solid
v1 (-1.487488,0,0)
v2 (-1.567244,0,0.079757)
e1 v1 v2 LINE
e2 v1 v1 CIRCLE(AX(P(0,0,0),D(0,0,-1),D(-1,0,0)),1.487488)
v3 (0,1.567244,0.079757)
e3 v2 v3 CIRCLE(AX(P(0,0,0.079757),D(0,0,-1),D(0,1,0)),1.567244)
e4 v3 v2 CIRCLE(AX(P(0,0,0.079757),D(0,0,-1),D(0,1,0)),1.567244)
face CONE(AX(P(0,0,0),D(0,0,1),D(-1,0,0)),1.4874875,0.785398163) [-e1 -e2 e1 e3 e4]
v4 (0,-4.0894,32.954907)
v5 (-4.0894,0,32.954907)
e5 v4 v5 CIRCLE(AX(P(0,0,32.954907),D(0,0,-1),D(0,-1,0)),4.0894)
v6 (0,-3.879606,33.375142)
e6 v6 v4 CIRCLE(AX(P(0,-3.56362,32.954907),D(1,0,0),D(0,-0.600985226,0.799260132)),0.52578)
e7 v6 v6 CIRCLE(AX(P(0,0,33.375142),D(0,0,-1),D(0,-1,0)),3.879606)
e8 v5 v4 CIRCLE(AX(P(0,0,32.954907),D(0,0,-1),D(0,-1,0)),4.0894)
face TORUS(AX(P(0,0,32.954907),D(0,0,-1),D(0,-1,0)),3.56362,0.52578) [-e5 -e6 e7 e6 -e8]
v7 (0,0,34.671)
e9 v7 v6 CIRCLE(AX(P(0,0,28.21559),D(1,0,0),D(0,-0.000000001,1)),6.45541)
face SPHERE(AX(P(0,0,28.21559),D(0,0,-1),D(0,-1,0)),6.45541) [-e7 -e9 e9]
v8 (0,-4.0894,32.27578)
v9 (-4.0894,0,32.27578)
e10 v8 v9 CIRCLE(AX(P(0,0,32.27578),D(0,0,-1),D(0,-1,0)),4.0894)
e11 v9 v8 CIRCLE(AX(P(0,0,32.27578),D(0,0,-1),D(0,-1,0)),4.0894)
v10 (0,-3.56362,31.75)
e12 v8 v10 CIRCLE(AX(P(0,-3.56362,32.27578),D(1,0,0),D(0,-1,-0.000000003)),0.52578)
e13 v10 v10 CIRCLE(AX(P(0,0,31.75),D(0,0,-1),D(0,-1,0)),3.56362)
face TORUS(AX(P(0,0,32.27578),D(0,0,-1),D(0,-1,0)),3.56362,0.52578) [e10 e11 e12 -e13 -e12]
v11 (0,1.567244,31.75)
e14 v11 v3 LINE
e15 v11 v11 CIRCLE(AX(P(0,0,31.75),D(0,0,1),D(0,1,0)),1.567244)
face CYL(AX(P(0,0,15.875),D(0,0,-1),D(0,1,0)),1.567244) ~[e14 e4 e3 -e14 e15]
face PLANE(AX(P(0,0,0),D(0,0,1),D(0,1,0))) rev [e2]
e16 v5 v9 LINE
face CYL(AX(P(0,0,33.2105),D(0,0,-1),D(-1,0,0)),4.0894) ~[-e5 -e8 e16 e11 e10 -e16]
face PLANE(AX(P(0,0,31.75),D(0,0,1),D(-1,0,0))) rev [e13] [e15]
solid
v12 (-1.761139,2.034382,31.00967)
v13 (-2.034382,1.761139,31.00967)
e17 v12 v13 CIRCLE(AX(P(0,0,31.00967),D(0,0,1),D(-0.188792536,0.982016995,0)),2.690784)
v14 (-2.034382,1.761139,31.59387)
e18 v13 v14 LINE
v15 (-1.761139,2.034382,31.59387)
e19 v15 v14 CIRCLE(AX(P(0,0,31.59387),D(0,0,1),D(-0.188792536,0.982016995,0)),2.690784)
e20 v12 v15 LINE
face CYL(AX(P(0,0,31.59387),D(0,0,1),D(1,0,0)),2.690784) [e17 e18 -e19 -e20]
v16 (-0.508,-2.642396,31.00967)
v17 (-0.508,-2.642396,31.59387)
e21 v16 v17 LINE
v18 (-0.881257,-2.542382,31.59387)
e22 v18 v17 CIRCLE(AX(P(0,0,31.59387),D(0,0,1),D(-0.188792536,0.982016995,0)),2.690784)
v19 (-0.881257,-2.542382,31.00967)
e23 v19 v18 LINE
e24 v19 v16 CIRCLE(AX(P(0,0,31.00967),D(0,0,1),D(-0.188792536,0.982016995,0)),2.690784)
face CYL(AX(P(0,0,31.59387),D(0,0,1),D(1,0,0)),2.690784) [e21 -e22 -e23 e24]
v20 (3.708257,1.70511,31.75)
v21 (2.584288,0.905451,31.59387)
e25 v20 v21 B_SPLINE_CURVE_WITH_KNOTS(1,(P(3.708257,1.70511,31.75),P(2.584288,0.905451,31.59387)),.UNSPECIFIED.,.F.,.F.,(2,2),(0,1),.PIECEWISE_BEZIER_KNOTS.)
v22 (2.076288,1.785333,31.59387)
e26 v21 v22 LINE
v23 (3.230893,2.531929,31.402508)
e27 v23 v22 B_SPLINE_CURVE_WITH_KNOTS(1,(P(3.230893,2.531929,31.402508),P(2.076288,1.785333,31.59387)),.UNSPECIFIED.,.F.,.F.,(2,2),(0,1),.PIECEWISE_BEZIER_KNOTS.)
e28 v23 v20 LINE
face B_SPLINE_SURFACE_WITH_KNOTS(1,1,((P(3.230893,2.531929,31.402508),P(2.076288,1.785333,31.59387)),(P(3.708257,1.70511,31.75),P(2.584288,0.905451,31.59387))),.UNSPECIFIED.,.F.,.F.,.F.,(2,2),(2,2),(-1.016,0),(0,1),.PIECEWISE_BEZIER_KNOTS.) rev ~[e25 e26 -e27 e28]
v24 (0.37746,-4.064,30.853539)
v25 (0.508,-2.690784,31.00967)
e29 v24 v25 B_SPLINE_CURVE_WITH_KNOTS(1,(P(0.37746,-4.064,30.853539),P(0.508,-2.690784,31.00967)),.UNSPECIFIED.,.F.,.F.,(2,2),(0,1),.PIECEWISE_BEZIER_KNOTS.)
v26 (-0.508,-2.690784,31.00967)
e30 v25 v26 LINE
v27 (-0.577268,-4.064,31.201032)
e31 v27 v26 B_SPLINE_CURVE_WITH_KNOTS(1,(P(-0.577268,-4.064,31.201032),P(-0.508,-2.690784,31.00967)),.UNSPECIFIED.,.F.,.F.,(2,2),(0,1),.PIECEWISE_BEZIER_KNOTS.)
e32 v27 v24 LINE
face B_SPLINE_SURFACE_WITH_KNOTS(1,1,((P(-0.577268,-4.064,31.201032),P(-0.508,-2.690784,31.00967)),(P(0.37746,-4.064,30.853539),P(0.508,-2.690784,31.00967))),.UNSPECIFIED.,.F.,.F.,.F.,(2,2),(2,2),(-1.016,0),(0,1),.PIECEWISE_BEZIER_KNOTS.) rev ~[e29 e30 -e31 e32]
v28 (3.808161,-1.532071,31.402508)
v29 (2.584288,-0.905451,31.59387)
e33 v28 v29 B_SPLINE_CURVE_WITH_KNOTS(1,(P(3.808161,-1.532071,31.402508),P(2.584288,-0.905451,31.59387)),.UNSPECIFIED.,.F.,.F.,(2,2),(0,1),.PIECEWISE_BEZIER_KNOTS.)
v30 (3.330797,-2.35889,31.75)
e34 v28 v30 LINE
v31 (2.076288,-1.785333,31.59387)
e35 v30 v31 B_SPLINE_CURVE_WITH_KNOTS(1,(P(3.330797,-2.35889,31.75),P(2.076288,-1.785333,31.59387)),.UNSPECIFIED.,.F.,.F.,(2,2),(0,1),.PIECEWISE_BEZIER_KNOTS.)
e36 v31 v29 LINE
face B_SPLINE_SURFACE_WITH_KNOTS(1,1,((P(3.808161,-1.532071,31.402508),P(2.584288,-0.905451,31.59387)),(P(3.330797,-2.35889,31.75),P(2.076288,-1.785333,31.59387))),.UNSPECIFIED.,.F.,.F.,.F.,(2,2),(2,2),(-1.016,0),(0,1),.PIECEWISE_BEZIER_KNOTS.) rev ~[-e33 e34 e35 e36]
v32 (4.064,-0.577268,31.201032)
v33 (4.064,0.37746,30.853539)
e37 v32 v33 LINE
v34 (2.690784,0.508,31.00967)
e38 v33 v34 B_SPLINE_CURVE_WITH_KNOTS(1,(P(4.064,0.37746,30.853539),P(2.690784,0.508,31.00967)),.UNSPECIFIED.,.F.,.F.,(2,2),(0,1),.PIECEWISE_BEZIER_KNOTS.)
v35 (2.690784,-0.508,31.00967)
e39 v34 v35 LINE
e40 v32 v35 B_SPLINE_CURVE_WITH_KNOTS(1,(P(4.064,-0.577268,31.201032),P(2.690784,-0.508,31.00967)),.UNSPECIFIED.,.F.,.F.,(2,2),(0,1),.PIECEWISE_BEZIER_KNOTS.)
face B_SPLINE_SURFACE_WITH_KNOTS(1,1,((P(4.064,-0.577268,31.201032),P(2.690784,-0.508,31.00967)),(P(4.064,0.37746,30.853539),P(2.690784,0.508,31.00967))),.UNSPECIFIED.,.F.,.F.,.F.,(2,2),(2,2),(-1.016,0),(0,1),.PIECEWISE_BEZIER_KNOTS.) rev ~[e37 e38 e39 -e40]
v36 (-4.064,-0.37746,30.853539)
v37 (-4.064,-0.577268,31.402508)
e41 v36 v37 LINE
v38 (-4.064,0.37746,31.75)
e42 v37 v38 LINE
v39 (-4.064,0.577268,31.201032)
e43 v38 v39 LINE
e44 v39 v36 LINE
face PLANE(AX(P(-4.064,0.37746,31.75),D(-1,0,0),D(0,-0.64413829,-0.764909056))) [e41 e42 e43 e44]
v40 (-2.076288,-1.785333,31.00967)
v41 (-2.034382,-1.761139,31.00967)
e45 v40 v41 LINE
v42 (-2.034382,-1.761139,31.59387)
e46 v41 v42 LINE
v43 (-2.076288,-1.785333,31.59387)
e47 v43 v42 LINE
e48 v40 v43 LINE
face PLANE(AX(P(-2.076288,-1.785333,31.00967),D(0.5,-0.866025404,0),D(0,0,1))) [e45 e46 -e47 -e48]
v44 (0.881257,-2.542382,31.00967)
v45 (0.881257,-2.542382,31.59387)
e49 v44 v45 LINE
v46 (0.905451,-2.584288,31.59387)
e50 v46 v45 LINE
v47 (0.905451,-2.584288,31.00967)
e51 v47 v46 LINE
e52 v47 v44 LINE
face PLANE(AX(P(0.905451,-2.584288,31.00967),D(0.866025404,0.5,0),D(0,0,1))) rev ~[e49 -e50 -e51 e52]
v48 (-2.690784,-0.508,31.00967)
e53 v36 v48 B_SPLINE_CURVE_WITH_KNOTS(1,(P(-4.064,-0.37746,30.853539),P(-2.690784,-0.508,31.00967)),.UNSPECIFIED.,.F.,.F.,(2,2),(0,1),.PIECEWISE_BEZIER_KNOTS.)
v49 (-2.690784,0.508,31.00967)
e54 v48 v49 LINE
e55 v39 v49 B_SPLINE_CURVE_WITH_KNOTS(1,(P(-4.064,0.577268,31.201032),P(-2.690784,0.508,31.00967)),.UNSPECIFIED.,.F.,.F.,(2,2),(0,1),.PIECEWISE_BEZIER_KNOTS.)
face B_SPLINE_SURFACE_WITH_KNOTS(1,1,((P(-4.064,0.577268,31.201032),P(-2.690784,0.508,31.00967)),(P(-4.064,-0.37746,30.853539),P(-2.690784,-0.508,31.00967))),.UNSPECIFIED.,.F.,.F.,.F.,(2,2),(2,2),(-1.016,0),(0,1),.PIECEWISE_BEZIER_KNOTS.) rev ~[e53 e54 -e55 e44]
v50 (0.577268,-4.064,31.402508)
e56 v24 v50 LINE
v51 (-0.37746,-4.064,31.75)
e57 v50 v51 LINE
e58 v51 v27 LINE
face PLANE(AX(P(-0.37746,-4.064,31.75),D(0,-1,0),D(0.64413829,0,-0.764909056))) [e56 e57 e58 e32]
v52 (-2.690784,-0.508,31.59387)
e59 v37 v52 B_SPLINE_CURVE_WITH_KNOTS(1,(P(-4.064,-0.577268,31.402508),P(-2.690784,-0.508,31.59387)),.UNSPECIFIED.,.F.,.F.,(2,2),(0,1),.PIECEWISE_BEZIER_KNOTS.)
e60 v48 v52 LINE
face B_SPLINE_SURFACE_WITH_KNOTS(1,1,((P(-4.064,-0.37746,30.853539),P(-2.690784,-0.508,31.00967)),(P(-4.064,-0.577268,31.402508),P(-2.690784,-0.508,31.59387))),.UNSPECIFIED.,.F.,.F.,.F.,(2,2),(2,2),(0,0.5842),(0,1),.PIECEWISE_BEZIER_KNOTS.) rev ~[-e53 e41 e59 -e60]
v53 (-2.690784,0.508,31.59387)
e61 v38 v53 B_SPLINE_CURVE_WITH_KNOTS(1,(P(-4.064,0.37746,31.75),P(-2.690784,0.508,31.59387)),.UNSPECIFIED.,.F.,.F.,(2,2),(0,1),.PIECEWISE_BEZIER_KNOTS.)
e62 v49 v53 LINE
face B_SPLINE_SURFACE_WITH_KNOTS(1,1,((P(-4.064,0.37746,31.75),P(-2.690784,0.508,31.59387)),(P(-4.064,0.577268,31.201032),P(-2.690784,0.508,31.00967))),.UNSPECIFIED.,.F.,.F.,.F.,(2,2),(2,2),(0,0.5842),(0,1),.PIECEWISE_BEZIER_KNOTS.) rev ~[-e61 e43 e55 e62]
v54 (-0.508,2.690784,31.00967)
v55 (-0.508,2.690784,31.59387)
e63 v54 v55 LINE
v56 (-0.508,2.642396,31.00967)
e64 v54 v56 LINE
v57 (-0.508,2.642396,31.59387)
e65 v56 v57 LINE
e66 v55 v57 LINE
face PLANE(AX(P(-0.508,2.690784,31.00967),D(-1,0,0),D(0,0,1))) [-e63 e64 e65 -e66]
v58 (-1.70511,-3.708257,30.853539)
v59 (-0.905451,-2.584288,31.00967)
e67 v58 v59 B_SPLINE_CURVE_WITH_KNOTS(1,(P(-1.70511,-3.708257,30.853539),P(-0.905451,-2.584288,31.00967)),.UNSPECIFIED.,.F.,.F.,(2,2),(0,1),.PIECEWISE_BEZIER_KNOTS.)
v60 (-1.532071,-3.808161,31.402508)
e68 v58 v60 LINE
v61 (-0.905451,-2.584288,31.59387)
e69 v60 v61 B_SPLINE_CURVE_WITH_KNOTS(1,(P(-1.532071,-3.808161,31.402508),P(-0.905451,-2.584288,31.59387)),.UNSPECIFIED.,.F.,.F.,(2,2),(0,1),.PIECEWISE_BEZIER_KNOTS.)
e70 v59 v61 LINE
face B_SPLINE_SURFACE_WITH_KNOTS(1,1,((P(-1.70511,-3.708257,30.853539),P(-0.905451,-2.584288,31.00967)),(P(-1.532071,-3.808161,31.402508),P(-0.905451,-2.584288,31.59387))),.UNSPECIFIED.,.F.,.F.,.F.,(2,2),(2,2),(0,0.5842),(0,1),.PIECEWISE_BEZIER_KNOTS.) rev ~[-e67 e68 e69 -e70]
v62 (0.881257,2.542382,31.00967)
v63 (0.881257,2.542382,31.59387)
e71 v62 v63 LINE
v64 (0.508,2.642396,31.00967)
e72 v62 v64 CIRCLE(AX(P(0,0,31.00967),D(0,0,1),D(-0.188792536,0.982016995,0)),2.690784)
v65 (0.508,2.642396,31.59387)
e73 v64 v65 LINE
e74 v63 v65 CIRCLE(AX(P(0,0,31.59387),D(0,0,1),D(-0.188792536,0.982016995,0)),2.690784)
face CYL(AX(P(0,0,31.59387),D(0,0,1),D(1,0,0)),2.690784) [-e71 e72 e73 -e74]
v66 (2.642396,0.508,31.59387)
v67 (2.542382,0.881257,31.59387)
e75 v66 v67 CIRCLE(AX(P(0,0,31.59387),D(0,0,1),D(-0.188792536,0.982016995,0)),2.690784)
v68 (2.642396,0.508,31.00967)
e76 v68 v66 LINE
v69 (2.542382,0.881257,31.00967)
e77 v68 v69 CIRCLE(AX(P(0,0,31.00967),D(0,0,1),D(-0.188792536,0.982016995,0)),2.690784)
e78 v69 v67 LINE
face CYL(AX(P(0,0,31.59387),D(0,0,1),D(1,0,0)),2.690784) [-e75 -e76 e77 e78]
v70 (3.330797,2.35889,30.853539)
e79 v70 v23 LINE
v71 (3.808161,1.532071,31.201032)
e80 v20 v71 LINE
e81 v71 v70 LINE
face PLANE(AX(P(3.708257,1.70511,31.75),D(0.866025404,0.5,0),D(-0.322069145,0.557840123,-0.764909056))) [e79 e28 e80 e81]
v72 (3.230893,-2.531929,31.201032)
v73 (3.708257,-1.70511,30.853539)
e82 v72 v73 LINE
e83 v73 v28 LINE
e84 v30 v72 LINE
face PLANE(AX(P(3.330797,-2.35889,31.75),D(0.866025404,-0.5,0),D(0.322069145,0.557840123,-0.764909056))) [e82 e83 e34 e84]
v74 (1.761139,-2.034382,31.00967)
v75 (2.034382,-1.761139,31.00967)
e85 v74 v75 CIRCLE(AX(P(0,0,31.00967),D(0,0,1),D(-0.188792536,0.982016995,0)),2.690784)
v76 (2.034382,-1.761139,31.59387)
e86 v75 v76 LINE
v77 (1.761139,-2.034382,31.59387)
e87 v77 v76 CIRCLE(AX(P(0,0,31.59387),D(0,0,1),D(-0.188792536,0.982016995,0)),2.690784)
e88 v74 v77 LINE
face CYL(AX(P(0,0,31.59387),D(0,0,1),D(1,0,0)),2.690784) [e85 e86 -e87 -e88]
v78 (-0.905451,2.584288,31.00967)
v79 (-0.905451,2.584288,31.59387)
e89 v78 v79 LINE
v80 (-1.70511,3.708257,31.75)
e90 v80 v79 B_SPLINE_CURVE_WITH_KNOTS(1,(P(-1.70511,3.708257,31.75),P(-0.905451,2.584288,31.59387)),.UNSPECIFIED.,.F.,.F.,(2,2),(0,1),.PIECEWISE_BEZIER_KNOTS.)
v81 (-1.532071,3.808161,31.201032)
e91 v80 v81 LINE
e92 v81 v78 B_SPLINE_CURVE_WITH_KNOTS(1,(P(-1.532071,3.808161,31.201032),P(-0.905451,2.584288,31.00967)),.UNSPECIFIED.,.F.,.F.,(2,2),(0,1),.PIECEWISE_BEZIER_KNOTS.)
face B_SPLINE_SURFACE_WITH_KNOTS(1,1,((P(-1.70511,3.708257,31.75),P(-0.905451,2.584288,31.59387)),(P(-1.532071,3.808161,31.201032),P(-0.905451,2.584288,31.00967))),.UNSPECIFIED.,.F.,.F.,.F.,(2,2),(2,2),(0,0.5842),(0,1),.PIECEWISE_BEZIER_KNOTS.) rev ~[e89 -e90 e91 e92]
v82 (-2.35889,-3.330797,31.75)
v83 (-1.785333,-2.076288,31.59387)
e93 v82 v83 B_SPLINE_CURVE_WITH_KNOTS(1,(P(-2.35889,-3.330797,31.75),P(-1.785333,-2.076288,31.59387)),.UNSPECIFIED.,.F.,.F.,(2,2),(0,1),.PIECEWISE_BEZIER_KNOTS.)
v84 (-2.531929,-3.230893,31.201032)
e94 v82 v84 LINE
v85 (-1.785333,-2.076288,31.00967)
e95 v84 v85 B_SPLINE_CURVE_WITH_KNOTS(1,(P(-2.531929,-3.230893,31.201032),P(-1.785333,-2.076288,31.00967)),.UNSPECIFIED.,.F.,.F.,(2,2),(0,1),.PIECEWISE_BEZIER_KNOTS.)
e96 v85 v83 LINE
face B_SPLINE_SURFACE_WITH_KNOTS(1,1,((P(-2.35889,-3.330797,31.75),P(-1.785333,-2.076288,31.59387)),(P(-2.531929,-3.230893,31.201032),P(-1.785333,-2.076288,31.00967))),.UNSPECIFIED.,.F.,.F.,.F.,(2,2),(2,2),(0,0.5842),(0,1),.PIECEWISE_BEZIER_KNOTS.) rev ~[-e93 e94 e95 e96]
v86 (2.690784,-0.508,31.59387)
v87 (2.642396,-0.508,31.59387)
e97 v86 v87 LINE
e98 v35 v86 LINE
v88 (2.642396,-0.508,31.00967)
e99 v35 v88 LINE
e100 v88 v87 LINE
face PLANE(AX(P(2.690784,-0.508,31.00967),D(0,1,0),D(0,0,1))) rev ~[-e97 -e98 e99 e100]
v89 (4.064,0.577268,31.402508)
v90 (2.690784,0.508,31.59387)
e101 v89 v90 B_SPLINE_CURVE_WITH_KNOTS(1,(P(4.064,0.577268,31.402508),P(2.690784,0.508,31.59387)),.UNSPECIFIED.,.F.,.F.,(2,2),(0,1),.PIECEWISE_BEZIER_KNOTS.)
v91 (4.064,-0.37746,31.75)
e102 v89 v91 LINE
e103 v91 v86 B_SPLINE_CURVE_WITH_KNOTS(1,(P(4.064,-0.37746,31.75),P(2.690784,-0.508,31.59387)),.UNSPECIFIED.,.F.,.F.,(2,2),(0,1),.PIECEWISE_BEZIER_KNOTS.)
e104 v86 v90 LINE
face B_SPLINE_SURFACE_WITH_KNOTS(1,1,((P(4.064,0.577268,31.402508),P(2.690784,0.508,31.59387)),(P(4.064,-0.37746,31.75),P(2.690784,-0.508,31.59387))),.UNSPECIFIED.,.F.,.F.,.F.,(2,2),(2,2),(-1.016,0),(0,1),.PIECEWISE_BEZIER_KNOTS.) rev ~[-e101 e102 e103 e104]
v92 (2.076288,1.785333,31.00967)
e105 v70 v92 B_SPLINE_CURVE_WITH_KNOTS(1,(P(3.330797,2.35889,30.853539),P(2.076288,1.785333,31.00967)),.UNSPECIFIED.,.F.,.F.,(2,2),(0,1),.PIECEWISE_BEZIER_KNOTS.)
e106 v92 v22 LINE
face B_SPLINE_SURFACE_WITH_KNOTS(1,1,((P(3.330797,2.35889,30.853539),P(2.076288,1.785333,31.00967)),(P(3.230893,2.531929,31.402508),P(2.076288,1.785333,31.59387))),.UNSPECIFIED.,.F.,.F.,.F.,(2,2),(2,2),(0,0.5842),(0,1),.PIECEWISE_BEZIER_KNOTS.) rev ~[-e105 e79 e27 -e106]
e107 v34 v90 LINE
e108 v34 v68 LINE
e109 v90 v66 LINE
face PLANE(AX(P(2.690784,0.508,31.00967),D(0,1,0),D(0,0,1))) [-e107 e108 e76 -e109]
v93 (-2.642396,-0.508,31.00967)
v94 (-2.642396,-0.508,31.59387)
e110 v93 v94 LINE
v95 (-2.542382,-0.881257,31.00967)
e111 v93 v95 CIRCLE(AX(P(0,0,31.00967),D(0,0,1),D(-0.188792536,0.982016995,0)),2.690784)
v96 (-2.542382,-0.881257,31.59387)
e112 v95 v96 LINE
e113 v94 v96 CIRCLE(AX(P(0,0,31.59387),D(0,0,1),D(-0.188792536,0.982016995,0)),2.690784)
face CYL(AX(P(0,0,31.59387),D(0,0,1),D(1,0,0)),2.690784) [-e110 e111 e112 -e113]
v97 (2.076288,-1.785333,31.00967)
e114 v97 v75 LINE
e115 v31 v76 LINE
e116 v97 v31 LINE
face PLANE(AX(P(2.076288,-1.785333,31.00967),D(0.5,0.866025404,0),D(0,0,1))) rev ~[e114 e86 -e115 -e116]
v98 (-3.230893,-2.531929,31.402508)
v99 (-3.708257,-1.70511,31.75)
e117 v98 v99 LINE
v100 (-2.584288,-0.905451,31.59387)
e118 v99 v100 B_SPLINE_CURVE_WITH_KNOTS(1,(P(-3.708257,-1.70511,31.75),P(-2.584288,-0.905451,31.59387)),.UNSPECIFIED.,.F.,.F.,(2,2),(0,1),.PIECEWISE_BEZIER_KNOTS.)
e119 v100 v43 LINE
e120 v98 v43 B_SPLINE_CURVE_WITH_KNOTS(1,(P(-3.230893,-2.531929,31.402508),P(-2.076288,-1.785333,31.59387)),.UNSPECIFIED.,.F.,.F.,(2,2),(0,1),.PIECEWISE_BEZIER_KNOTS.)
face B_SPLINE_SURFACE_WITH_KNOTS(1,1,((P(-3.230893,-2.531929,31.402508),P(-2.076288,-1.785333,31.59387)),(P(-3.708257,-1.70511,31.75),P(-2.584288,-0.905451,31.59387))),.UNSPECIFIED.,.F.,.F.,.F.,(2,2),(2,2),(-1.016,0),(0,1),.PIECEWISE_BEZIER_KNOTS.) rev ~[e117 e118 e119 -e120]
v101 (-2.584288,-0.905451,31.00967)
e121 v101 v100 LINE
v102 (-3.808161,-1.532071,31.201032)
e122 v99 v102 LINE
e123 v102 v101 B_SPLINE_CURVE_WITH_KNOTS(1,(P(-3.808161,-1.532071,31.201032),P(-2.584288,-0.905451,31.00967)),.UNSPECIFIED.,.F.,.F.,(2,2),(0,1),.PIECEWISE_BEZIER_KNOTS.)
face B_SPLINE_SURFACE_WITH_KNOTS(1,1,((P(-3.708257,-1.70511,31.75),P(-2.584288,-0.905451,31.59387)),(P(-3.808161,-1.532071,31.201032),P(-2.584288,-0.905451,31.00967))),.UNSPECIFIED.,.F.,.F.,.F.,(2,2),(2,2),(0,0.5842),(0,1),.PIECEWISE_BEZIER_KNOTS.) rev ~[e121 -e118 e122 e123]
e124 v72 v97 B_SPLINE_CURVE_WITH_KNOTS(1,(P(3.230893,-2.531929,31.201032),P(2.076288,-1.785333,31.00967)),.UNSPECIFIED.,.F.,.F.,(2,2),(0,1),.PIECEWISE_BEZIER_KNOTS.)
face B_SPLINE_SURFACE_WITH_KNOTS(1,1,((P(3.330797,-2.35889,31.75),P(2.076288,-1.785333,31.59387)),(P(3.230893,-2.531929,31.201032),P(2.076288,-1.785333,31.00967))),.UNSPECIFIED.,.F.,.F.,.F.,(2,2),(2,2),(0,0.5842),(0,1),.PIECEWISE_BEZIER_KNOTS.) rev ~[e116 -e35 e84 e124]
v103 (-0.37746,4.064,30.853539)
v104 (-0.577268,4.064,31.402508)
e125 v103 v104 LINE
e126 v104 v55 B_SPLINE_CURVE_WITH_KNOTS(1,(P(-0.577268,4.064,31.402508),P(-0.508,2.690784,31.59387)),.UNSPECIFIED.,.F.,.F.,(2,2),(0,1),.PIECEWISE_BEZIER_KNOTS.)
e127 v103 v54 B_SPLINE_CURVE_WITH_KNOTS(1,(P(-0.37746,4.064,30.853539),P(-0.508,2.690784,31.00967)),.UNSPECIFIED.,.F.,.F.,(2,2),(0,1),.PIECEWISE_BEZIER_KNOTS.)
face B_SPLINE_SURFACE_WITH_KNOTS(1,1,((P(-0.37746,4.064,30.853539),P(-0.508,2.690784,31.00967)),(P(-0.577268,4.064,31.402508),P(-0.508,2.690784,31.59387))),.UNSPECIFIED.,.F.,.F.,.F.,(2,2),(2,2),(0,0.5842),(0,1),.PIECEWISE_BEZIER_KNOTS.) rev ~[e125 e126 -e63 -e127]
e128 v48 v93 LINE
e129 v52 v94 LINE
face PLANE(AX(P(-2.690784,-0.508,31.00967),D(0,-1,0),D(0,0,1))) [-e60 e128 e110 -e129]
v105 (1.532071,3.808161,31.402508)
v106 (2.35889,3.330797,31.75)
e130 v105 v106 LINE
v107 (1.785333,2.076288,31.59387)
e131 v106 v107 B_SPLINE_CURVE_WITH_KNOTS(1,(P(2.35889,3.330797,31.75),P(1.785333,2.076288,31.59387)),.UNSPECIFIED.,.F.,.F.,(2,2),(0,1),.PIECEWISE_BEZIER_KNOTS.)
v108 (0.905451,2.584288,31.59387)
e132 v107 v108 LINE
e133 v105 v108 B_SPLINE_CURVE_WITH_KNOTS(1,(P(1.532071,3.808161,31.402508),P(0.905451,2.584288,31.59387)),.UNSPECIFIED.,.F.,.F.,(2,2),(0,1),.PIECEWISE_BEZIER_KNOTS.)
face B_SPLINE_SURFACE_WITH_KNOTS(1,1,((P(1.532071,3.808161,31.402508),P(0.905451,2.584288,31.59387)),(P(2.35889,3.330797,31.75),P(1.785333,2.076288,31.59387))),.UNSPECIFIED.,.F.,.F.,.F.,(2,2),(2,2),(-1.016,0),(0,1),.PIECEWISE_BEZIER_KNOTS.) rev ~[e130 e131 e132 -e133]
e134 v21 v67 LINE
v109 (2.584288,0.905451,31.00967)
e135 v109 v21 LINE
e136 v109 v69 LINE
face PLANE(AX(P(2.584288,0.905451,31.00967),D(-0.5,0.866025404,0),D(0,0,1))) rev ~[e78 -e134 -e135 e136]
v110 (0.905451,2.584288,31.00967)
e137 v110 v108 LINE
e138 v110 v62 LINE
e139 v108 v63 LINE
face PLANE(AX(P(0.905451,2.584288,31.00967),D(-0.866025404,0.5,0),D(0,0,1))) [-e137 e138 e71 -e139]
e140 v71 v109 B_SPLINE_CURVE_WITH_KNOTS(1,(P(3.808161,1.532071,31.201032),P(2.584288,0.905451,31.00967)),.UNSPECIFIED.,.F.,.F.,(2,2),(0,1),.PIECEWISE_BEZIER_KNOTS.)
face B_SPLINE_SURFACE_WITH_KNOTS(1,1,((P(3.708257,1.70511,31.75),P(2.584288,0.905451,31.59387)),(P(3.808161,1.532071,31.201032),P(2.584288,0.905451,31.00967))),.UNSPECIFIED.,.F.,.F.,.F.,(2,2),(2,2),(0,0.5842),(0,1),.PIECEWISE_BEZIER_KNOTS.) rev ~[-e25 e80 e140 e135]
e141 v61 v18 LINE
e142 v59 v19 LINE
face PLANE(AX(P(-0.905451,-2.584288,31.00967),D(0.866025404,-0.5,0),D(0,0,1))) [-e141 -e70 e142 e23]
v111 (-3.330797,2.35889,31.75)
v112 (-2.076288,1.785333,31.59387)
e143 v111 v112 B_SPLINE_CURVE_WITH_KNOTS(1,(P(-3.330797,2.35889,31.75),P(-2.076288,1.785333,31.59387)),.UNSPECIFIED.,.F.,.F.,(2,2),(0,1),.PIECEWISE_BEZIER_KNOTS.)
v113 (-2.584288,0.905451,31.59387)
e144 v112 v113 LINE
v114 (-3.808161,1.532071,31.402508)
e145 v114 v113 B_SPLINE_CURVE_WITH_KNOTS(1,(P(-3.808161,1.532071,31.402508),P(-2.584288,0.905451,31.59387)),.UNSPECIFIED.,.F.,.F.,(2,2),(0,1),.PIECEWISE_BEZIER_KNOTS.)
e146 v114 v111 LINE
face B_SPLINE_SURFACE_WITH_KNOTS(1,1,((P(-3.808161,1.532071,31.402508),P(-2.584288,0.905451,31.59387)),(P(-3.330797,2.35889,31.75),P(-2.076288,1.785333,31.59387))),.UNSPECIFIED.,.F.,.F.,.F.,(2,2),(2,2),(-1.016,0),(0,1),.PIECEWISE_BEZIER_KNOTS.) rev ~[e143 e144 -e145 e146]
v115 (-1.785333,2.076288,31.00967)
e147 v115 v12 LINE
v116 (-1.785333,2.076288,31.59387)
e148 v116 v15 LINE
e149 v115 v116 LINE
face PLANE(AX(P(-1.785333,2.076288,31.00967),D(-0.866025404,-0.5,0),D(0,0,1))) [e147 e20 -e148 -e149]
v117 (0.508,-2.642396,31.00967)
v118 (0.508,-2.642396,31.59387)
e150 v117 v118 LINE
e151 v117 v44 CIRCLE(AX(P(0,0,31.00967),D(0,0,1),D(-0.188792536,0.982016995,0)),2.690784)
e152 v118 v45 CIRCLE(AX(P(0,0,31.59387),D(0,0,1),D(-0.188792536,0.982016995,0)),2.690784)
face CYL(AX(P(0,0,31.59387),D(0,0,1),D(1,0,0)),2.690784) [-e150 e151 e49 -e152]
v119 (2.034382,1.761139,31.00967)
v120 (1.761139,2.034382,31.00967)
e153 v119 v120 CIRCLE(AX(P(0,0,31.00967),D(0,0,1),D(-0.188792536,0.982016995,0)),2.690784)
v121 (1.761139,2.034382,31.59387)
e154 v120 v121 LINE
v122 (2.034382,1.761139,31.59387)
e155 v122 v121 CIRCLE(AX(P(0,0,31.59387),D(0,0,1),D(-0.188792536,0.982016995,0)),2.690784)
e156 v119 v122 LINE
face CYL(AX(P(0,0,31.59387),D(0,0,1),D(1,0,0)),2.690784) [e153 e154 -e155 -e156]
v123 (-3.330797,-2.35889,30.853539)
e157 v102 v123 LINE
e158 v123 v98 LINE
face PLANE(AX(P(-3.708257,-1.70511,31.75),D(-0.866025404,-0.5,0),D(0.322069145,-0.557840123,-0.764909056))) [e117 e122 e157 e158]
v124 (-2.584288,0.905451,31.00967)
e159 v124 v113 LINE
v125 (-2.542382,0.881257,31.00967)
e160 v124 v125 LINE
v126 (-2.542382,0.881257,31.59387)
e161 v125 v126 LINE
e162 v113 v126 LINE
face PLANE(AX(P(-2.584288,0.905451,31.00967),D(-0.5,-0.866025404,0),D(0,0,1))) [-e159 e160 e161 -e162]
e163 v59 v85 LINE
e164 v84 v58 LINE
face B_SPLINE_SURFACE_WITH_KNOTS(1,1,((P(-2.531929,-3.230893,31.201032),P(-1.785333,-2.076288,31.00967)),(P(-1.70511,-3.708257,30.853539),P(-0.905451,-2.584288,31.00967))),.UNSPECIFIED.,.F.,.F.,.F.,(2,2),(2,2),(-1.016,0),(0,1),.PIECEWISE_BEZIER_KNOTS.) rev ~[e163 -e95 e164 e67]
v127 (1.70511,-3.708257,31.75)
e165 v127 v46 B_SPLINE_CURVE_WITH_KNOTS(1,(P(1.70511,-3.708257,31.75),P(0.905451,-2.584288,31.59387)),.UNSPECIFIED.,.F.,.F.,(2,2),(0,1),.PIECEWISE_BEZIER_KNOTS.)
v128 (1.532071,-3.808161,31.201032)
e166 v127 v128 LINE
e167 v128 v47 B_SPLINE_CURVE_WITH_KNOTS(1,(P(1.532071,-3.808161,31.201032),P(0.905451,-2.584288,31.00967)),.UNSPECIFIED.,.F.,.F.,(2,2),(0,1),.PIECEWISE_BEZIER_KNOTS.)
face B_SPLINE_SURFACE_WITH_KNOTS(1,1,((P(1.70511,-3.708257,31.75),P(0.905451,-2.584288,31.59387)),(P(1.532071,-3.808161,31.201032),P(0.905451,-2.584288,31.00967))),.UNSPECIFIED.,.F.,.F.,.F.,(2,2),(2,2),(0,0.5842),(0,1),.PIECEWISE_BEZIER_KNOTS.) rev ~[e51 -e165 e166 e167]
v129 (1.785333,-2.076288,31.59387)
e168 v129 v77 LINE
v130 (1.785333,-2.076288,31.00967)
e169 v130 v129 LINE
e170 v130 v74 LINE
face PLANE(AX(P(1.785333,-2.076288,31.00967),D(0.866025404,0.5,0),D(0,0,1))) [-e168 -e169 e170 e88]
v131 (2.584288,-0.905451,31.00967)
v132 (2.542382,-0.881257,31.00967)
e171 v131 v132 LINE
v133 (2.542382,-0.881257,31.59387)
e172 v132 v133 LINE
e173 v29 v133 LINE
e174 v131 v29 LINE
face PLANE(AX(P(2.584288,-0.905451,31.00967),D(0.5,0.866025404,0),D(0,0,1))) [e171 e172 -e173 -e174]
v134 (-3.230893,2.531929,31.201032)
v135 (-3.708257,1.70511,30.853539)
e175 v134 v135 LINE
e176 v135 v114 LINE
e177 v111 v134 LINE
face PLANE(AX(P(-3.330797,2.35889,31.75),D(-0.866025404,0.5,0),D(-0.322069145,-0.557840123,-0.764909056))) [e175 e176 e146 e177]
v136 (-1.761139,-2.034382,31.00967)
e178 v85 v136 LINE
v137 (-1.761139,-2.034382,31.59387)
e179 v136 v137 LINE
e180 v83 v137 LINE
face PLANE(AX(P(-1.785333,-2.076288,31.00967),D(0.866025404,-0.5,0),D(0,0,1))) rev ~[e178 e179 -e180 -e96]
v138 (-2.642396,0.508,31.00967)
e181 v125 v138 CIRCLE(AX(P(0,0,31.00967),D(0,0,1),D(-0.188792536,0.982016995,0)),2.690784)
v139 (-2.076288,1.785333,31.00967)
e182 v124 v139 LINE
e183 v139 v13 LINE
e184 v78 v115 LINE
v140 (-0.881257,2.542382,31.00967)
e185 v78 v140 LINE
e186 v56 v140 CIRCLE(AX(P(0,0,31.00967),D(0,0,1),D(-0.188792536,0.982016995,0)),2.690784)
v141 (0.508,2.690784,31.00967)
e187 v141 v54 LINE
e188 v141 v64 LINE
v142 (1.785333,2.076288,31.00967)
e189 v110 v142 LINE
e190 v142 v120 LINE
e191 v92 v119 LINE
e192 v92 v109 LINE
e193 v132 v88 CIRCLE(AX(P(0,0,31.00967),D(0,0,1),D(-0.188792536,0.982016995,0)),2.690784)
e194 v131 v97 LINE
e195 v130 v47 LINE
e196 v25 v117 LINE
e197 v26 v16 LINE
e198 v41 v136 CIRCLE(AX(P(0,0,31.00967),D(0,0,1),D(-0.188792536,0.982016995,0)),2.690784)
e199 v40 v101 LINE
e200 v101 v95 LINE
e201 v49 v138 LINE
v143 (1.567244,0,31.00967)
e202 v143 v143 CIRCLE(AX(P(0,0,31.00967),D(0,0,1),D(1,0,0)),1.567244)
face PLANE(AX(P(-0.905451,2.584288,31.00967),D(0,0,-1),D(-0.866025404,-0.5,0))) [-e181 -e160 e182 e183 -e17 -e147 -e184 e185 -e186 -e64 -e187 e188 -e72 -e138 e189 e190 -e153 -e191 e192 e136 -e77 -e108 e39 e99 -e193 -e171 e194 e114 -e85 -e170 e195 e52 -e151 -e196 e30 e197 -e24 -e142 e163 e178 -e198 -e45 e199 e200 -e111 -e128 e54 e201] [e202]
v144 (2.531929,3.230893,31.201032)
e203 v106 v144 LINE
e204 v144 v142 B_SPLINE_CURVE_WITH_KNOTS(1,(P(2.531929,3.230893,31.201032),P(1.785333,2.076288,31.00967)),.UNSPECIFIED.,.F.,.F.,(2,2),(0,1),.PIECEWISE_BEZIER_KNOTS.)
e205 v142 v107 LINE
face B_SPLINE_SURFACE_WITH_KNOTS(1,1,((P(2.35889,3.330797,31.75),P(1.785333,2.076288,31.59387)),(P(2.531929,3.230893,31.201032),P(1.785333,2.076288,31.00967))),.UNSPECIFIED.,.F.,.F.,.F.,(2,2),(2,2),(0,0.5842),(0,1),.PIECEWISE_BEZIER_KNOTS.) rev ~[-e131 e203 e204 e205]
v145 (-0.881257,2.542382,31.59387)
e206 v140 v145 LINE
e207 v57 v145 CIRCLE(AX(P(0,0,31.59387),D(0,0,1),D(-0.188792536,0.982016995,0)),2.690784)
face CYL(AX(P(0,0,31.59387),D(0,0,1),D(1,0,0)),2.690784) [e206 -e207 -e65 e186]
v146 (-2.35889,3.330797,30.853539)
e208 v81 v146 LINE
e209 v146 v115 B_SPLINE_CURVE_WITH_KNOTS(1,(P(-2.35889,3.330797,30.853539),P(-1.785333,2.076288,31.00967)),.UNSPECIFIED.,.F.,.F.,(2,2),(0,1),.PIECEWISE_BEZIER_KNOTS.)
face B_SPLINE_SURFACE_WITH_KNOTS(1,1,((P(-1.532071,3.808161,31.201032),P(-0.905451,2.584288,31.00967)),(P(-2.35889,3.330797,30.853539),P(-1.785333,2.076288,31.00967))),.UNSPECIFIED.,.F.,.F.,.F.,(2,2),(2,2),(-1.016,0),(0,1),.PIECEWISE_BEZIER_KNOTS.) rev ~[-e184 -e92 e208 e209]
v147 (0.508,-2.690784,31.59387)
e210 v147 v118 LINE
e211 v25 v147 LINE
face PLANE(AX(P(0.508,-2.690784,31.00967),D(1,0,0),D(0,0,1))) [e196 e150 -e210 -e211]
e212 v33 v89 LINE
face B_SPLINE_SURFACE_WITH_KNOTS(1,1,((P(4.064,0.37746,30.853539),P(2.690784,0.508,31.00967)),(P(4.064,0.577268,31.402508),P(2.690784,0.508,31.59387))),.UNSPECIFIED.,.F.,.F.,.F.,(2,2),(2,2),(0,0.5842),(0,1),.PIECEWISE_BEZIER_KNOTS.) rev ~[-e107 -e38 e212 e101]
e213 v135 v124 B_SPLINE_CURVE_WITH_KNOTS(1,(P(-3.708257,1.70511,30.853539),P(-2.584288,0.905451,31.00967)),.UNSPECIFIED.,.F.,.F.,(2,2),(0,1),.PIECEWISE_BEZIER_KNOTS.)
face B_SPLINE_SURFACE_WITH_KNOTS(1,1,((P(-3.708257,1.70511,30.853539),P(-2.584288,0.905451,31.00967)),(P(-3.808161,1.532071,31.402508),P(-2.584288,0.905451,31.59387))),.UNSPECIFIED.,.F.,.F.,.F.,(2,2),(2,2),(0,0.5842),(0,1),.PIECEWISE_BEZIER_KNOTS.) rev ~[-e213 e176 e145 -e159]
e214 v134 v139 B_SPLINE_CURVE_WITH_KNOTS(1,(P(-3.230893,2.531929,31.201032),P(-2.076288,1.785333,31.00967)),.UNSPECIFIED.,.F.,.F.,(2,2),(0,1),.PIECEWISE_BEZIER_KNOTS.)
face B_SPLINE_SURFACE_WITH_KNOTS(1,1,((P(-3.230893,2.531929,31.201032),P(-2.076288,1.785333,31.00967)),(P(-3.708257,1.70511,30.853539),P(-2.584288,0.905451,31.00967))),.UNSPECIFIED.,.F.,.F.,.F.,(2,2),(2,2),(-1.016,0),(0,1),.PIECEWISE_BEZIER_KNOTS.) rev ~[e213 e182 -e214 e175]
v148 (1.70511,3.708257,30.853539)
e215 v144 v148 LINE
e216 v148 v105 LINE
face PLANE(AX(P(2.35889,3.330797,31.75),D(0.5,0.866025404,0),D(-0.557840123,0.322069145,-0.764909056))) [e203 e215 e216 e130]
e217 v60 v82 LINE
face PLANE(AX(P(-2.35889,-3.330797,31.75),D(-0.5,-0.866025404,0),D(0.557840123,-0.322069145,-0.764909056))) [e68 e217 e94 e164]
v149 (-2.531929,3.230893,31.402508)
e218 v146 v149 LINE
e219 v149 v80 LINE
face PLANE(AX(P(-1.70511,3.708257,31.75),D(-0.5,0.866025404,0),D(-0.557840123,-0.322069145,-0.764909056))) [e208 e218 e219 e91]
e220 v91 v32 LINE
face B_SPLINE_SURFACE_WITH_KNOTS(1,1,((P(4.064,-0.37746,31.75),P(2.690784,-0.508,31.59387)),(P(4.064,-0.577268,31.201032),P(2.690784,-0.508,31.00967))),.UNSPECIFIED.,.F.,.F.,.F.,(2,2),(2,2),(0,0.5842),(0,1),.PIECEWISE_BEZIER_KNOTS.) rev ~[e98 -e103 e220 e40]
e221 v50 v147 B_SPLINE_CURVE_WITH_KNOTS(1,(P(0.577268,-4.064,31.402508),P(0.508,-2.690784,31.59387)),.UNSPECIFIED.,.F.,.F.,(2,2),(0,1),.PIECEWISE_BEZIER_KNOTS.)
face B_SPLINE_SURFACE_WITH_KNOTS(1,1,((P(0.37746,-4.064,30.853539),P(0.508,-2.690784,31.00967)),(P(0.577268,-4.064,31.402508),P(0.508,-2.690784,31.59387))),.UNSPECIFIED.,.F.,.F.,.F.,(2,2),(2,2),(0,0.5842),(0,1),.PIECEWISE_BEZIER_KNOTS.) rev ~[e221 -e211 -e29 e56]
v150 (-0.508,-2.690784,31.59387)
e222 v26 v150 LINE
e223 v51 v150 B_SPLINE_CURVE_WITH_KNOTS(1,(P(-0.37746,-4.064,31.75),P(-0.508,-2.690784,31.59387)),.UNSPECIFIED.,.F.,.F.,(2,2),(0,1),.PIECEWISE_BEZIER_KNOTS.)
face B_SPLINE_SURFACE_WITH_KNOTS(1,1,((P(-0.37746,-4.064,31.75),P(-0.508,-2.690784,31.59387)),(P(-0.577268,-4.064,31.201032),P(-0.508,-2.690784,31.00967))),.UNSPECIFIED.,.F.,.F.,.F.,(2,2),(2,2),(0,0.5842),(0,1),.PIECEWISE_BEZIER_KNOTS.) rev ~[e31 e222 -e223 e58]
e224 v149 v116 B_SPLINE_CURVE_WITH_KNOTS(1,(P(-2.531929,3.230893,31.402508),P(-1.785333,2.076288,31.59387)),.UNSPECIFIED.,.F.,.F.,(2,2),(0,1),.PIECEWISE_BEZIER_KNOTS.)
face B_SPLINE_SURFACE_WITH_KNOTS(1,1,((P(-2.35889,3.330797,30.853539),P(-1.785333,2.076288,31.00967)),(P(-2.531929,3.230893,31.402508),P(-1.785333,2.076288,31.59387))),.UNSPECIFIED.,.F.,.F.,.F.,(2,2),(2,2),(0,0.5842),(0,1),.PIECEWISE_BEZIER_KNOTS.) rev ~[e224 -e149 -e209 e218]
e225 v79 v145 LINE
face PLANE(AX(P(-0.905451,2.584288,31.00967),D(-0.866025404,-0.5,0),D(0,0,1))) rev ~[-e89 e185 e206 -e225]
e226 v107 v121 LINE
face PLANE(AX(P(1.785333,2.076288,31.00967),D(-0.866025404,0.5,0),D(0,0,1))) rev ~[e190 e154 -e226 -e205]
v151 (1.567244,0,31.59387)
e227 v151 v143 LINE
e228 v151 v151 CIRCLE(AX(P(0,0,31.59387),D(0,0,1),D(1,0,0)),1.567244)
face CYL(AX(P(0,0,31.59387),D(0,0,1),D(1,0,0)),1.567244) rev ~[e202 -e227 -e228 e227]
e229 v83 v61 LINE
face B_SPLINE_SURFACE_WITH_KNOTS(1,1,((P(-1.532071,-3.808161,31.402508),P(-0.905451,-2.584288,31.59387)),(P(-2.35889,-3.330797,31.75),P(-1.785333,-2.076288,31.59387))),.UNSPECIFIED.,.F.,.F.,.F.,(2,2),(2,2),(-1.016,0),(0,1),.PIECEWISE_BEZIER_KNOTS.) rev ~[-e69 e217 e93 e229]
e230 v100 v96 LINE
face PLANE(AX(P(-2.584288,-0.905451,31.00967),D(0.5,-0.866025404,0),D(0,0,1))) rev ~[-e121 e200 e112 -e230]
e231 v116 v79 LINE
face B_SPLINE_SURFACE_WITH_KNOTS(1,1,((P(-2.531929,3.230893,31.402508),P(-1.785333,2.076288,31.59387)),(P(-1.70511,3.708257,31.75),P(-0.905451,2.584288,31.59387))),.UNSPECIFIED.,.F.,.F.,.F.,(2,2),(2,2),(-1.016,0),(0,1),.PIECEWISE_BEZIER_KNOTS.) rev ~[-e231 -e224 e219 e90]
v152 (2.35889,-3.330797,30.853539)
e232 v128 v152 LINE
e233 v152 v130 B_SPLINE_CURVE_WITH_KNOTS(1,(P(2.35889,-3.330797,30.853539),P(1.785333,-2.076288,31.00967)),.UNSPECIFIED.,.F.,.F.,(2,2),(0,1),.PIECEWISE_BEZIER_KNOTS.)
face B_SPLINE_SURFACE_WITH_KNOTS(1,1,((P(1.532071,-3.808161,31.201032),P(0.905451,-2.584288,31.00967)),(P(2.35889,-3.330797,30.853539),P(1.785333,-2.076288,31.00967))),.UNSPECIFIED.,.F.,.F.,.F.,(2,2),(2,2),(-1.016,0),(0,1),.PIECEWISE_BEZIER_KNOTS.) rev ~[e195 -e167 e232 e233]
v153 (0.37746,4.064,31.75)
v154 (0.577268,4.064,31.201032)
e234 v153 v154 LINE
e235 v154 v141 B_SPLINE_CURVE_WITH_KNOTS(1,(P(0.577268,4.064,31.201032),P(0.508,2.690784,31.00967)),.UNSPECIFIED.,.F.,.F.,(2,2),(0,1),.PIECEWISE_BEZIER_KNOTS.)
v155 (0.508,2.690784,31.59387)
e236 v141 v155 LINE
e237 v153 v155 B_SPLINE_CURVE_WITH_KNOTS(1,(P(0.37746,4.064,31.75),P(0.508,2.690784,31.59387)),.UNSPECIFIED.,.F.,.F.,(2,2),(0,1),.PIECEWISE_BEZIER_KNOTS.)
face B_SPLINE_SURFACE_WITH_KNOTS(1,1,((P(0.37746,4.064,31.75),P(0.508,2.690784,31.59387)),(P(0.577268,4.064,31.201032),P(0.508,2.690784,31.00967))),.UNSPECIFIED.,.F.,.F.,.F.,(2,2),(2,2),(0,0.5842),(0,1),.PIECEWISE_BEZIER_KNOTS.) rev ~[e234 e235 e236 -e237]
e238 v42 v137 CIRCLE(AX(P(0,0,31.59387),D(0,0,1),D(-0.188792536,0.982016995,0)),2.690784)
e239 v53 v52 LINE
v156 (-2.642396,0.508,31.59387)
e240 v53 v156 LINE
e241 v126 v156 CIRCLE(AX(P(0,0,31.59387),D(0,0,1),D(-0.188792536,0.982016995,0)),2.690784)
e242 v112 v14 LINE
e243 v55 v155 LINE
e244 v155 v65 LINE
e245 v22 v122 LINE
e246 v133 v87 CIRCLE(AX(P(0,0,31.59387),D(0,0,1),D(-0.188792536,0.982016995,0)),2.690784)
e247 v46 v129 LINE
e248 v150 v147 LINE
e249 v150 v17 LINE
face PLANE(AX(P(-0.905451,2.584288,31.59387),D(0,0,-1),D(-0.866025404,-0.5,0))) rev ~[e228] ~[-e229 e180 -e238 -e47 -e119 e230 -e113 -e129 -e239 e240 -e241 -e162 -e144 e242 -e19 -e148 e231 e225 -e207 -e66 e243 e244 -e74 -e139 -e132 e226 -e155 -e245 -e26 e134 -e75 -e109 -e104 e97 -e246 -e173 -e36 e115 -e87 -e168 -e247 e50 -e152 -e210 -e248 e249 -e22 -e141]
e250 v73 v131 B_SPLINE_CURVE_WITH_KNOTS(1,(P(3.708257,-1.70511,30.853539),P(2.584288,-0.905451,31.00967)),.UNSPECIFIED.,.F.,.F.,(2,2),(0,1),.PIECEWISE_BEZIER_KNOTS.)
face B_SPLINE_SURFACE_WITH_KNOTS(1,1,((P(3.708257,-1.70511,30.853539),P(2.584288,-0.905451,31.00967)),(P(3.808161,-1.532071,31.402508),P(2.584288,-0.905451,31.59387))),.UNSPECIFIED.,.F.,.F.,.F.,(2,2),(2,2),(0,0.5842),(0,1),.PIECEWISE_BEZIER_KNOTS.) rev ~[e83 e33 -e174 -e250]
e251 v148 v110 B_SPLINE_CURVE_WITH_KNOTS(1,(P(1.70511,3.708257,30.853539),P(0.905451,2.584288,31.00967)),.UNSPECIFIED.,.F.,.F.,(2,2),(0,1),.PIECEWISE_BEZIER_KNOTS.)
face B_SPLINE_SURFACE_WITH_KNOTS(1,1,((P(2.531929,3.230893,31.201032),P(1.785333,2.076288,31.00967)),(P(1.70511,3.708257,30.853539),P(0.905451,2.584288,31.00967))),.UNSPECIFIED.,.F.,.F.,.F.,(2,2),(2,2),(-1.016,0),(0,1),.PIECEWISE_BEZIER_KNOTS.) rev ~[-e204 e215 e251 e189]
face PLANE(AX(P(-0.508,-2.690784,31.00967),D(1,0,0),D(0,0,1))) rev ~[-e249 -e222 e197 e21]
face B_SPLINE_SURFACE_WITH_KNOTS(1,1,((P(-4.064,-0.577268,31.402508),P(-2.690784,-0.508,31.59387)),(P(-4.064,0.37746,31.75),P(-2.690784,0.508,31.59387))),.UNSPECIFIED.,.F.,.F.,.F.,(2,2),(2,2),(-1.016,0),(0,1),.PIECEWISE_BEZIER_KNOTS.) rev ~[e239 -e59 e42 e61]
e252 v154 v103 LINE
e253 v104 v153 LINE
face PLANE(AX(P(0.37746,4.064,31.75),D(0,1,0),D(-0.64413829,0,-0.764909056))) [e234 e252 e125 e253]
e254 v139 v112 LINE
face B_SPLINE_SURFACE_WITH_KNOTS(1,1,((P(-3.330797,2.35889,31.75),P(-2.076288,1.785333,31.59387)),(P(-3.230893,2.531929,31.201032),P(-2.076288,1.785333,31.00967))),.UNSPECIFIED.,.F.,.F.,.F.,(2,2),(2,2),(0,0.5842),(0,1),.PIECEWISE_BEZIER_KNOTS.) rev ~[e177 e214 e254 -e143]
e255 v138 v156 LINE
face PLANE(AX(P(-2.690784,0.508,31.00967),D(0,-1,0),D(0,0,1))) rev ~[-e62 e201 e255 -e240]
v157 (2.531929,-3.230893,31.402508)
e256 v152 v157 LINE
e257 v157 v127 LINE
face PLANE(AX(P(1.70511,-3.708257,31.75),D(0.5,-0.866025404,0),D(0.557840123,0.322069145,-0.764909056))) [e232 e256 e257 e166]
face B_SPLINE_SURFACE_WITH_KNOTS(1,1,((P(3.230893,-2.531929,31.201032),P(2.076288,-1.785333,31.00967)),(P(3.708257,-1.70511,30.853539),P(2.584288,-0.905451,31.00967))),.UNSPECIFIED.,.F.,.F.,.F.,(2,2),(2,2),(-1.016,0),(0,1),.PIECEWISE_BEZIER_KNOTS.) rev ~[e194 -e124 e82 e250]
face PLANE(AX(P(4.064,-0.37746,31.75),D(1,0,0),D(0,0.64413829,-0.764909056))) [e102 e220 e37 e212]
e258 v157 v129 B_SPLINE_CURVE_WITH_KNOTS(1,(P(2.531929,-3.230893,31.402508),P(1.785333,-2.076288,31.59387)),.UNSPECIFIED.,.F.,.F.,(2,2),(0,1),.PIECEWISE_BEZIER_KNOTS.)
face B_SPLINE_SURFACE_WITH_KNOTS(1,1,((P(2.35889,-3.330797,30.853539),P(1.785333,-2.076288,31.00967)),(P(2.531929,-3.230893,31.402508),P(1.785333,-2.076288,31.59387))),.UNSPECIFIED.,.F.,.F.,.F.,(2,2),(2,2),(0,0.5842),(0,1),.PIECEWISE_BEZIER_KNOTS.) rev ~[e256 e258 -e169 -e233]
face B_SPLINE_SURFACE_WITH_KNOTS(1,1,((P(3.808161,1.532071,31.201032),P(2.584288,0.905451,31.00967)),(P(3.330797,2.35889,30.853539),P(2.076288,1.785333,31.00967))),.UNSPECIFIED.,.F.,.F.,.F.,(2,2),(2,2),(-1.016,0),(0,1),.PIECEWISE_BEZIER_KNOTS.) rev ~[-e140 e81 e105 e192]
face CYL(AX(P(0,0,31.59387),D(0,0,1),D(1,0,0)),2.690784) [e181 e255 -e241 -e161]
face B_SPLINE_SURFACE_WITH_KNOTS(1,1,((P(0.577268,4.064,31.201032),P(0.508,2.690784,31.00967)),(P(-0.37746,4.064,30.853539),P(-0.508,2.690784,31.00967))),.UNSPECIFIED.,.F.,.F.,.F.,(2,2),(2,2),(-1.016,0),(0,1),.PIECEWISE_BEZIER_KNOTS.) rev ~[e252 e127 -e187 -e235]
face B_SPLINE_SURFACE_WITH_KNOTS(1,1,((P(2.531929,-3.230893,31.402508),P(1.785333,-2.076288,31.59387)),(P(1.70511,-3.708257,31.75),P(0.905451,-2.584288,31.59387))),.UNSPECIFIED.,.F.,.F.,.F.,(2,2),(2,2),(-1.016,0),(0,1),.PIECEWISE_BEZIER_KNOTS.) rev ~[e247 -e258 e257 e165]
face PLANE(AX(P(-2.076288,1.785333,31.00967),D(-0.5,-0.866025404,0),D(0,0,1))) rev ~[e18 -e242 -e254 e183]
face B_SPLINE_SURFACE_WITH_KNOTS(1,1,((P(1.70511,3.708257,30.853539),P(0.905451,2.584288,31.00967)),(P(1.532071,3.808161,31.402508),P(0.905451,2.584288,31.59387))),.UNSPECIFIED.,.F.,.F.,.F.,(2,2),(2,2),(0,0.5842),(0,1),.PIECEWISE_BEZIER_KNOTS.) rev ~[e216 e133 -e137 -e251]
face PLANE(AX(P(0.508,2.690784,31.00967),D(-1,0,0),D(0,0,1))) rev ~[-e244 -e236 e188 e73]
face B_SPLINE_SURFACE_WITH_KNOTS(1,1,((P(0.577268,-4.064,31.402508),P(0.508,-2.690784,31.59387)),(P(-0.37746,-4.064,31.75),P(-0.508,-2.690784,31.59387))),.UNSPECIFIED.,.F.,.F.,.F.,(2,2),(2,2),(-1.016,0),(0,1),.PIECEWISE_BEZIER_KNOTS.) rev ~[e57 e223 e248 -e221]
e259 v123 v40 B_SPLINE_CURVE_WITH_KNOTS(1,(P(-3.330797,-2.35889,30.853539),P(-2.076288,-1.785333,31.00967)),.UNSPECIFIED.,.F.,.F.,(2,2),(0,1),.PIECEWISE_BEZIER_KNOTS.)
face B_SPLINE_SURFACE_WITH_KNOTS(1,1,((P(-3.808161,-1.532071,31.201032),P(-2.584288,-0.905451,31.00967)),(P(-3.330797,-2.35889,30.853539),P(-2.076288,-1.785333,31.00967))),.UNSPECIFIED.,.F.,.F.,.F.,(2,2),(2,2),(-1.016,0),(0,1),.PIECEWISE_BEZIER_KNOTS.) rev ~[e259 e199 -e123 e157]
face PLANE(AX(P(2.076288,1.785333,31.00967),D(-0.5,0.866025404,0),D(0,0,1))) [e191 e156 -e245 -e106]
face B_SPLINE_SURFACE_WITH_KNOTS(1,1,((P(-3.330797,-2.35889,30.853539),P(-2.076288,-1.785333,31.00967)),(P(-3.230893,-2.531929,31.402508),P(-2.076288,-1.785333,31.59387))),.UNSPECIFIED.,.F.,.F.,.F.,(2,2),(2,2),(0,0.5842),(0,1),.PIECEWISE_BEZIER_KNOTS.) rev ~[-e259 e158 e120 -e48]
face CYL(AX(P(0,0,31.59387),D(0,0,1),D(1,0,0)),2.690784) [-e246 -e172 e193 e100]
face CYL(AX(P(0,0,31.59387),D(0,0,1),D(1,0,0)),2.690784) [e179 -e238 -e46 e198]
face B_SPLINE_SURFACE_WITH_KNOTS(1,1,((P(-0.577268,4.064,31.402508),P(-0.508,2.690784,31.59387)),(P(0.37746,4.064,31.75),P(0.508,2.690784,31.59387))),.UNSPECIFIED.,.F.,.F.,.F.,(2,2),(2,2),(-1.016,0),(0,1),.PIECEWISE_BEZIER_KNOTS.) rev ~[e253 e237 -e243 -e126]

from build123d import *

# Parameters (mm, degrees)
SKETCH3_W           = 31.75
SKETCH3_H           = 1.567244252
SKETCH38_OUTSIDE_W  = 77.2
SKETCH38_OUTSIDE_H  = 77.2
SKETCH38_OUTSIDE_R  = 1.4874875
EXTRUDE6_DEPTH      = 32.827268326
EXTRUDE6_DRAFT      = -45
SKETCH8_W           = 2.921
SKETCH8_H           = 4.0894
SKETCH21_R          = 2.690784338
SKETCH21_R_2        = 1.567244252
EXTRUDE2_DEPTH      = 0.5842
EXTRUDE3_REACH      = 37.564
EXTRUDE3_END_RADIUS = 2.690784338
SKETCH33_W          = 1.016
SKETCH33_H          = 0.5842
CIRPATTERN4_COUNT   = 12


with BuildPart() as part:
    # Sketch3 → Revolve1 (revolve)
    with BuildSketch(Plane(origin=(0, 0, 0), x_dir=(0, 0, -1), z_dir=(1, 0, 0))):
        with Locations((-15.875, 0.783622126)):
            Rectangle(SKETCH3_W, SKETCH3_H)
    revolve(axis=Axis((0, 0, 0), (0, 0, 1)))


with BuildPart() as extrude6_tool:
    # Sketch38 outside → Extrude6 (with draft: the straight prism first)
    with BuildSketch(Plane(origin=(0, 0, 0), x_dir=(-1, 0, 0), z_dir=(0, 0, -1))):
        Rectangle(SKETCH38_OUTSIDE_W, SKETCH38_OUTSIDE_H)
        Circle(SKETCH38_OUTSIDE_R, mode=Mode.SUBTRACT)
    extrude(amount=-EXTRUDE6_DEPTH)
    # Extrude6: the draft: its side faces are tilted about the plane it starts from
    extrude6_sides = [extrude6_tool.faces().sort_by_distance(p)[0] for p in [
        (0, -38.6, 16.413634163),
        (-38.6, 0, 16.413634163),
        (0, 38.6, 16.413634163),
        (38.6, 0, 16.413634163),
        (1.4874875, 0, 16.413634163),
    ]]
    draft(extrude6_sides, Plane(origin=(0, 0, 0), x_dir=(-1, 0, 0), z_dir=(0, 0, -1)), EXTRUDE6_DRAFT)


with BuildPart() as part_1:
    add(part.part)

    # Extrude6: cut by extrude6_tool
    add(extrude6_tool.part, mode=Mode.SUBTRACT)

    # Sketch8 → Revolve2 (revolve)
    with BuildSketch(Plane(origin=(0, 0, 0), x_dir=(0, 0, -1), z_dir=(1, 0, 0)), mode=Mode.PRIVATE) as revolve2_sk:
        with Locations((-33.2105, 2.0447)):
            Rectangle(SKETCH8_W, SKETCH8_H)
    revolve(revolve2_sk.sketch.rotate(Axis((0, 0, 0), (0, 0, 1)), 90), axis=Axis((0, 0, 0), (0, 0, 1)))

    # Sketch11 → Cut-Revolve3 (revolve, cut)
    with BuildSketch(Plane(origin=(0, 0, 0), x_dir=(0, 0, -1), z_dir=(1, 0, 0)), mode=Mode.PRIVATE) as cut_revolve3_sk:
        with BuildLine():
            Line((-32.954906874, 4.0894), (-32.27578, 4.0894))
            ThreePointArc((-32.27578, 4.0894), (-31.903997397, 3.935402603), (-31.75, 3.56362))
            Line((-31.75, 3.56362), (-31.115, 3.56362))
            Line((-31.115, 3.56362), (-31.115, 4.7244))
            Line((-31.115, 4.7244), (-35.306, 4.7244))
            Line((-35.306, 4.7244), (-35.306, 0))
            Line((-35.306, 0), (-34.671, 0))
            ThreePointArc((-34.671, 0), (-34.338470898, 2.045152261), (-33.375141868, 3.87960601))
            ThreePointArc((-33.375141868, 3.87960601), (-33.189753083, 4.034036694), (-32.954906874, 4.0894))
        make_face()
    revolve(cut_revolve3_sk.sketch.rotate(Axis((0, 0, 34.671), (0, 0, -1)), 180), axis=Axis((0, 0, 34.671), (0, 0, -1)), mode=Mode.SUBTRACT)


with BuildPart() as body_2:
    # Sketch21 → Extrude2 (new body)
    with BuildSketch(Plane.XY.offset(31.593869553)):
        Circle(SKETCH21_R)
        Circle(SKETCH21_R_2, mode=Mode.SUBTRACT)
    extrude(amount=-EXTRUDE2_DEPTH)

    # Extrude3: up to this cylinder (the profile starts outside it)
    extrude3_end = Plane(origin=(0, 0, 31.30177), z_dir=(0, 0, 1)) * Cylinder(EXTRUDE3_END_RADIUS, 81.509568677, mode=Mode.PRIVATE)
    # Sketch33 → Extrude3 (add, up to the surface)
    with BuildSketch(Plane(origin=(0, 2.690784338, 0), x_dir=(-1, 0, 0), z_dir=(0, 1, 0)), mode=Mode.PRIVATE) as extrude3_sk1:
        with Locations((0, 31.301769553)):
            Rectangle(SKETCH33_W, SKETCH33_H)
    extrude3_tool1 = extrude(extrude3_sk1.sketch, amount=-EXTRUDE3_REACH, mode=Mode.PRIVATE) - extrude3_end
    extrude3 = extrude3_tool1.solids().sort_by_distance((0, 2.690784, 31.30177))[0] + extrude3_tool1.solids().sort_by_distance((0, 2.690784, 31.30177))[1]
    add(extrude3)

    # Sketch32 → Loft2 section 0
    with BuildSketch(Plane(origin=(0, 4.064, 0), x_dir=(-1, 0, 0), z_dir=(0, 1, 0))):
        with BuildLine():
            Line((-0.377459767, 31.75), (-0.577267935, 31.201031571))
            Line((-0.577267935, 31.201031571), (0.377459767, 30.853539105))
            Line((0.377459767, 30.853539105), (0.577267935, 31.402507534))
            Line((0.577267935, 31.402507534), (-0.377459767, 31.75))
        make_face()
    # Sketch31 → Loft2 section 1
    with BuildSketch(Plane(origin=(0, 2.690784338, 0), x_dir=(-1, 0, 0), z_dir=(0, 1, 0))):
        with BuildLine():
            Line((-0.508, 31.593869553), (0.508, 31.593869553))
            Line((0.508, 31.593869553), (0.508, 31.009669553))
            Line((0.508, 31.009669553), (-0.508, 31.009669553))
            Line((-0.508, 31.009669553), (-0.508, 31.593869553))
        make_face()
    loft2 = loft()

    # CirPattern4: Extrude3, Loft2 ×12 about axis
    cirpattern4_axis = Axis((0, 0, 31.009669553), (0, 0, 1))
    add([extrude3.rotate(cirpattern4_axis, i * 360 / CIRPATTERN4_COUNT) for i in range(1, CIRPATTERN4_COUNT)])
    add([loft2.rotate(cirpattern4_axis, i * 360 / CIRPATTERN4_COUNT) for i in range(1, CIRPATTERN4_COUNT)])


solid = Compound([part_1.part, body_2.part])
